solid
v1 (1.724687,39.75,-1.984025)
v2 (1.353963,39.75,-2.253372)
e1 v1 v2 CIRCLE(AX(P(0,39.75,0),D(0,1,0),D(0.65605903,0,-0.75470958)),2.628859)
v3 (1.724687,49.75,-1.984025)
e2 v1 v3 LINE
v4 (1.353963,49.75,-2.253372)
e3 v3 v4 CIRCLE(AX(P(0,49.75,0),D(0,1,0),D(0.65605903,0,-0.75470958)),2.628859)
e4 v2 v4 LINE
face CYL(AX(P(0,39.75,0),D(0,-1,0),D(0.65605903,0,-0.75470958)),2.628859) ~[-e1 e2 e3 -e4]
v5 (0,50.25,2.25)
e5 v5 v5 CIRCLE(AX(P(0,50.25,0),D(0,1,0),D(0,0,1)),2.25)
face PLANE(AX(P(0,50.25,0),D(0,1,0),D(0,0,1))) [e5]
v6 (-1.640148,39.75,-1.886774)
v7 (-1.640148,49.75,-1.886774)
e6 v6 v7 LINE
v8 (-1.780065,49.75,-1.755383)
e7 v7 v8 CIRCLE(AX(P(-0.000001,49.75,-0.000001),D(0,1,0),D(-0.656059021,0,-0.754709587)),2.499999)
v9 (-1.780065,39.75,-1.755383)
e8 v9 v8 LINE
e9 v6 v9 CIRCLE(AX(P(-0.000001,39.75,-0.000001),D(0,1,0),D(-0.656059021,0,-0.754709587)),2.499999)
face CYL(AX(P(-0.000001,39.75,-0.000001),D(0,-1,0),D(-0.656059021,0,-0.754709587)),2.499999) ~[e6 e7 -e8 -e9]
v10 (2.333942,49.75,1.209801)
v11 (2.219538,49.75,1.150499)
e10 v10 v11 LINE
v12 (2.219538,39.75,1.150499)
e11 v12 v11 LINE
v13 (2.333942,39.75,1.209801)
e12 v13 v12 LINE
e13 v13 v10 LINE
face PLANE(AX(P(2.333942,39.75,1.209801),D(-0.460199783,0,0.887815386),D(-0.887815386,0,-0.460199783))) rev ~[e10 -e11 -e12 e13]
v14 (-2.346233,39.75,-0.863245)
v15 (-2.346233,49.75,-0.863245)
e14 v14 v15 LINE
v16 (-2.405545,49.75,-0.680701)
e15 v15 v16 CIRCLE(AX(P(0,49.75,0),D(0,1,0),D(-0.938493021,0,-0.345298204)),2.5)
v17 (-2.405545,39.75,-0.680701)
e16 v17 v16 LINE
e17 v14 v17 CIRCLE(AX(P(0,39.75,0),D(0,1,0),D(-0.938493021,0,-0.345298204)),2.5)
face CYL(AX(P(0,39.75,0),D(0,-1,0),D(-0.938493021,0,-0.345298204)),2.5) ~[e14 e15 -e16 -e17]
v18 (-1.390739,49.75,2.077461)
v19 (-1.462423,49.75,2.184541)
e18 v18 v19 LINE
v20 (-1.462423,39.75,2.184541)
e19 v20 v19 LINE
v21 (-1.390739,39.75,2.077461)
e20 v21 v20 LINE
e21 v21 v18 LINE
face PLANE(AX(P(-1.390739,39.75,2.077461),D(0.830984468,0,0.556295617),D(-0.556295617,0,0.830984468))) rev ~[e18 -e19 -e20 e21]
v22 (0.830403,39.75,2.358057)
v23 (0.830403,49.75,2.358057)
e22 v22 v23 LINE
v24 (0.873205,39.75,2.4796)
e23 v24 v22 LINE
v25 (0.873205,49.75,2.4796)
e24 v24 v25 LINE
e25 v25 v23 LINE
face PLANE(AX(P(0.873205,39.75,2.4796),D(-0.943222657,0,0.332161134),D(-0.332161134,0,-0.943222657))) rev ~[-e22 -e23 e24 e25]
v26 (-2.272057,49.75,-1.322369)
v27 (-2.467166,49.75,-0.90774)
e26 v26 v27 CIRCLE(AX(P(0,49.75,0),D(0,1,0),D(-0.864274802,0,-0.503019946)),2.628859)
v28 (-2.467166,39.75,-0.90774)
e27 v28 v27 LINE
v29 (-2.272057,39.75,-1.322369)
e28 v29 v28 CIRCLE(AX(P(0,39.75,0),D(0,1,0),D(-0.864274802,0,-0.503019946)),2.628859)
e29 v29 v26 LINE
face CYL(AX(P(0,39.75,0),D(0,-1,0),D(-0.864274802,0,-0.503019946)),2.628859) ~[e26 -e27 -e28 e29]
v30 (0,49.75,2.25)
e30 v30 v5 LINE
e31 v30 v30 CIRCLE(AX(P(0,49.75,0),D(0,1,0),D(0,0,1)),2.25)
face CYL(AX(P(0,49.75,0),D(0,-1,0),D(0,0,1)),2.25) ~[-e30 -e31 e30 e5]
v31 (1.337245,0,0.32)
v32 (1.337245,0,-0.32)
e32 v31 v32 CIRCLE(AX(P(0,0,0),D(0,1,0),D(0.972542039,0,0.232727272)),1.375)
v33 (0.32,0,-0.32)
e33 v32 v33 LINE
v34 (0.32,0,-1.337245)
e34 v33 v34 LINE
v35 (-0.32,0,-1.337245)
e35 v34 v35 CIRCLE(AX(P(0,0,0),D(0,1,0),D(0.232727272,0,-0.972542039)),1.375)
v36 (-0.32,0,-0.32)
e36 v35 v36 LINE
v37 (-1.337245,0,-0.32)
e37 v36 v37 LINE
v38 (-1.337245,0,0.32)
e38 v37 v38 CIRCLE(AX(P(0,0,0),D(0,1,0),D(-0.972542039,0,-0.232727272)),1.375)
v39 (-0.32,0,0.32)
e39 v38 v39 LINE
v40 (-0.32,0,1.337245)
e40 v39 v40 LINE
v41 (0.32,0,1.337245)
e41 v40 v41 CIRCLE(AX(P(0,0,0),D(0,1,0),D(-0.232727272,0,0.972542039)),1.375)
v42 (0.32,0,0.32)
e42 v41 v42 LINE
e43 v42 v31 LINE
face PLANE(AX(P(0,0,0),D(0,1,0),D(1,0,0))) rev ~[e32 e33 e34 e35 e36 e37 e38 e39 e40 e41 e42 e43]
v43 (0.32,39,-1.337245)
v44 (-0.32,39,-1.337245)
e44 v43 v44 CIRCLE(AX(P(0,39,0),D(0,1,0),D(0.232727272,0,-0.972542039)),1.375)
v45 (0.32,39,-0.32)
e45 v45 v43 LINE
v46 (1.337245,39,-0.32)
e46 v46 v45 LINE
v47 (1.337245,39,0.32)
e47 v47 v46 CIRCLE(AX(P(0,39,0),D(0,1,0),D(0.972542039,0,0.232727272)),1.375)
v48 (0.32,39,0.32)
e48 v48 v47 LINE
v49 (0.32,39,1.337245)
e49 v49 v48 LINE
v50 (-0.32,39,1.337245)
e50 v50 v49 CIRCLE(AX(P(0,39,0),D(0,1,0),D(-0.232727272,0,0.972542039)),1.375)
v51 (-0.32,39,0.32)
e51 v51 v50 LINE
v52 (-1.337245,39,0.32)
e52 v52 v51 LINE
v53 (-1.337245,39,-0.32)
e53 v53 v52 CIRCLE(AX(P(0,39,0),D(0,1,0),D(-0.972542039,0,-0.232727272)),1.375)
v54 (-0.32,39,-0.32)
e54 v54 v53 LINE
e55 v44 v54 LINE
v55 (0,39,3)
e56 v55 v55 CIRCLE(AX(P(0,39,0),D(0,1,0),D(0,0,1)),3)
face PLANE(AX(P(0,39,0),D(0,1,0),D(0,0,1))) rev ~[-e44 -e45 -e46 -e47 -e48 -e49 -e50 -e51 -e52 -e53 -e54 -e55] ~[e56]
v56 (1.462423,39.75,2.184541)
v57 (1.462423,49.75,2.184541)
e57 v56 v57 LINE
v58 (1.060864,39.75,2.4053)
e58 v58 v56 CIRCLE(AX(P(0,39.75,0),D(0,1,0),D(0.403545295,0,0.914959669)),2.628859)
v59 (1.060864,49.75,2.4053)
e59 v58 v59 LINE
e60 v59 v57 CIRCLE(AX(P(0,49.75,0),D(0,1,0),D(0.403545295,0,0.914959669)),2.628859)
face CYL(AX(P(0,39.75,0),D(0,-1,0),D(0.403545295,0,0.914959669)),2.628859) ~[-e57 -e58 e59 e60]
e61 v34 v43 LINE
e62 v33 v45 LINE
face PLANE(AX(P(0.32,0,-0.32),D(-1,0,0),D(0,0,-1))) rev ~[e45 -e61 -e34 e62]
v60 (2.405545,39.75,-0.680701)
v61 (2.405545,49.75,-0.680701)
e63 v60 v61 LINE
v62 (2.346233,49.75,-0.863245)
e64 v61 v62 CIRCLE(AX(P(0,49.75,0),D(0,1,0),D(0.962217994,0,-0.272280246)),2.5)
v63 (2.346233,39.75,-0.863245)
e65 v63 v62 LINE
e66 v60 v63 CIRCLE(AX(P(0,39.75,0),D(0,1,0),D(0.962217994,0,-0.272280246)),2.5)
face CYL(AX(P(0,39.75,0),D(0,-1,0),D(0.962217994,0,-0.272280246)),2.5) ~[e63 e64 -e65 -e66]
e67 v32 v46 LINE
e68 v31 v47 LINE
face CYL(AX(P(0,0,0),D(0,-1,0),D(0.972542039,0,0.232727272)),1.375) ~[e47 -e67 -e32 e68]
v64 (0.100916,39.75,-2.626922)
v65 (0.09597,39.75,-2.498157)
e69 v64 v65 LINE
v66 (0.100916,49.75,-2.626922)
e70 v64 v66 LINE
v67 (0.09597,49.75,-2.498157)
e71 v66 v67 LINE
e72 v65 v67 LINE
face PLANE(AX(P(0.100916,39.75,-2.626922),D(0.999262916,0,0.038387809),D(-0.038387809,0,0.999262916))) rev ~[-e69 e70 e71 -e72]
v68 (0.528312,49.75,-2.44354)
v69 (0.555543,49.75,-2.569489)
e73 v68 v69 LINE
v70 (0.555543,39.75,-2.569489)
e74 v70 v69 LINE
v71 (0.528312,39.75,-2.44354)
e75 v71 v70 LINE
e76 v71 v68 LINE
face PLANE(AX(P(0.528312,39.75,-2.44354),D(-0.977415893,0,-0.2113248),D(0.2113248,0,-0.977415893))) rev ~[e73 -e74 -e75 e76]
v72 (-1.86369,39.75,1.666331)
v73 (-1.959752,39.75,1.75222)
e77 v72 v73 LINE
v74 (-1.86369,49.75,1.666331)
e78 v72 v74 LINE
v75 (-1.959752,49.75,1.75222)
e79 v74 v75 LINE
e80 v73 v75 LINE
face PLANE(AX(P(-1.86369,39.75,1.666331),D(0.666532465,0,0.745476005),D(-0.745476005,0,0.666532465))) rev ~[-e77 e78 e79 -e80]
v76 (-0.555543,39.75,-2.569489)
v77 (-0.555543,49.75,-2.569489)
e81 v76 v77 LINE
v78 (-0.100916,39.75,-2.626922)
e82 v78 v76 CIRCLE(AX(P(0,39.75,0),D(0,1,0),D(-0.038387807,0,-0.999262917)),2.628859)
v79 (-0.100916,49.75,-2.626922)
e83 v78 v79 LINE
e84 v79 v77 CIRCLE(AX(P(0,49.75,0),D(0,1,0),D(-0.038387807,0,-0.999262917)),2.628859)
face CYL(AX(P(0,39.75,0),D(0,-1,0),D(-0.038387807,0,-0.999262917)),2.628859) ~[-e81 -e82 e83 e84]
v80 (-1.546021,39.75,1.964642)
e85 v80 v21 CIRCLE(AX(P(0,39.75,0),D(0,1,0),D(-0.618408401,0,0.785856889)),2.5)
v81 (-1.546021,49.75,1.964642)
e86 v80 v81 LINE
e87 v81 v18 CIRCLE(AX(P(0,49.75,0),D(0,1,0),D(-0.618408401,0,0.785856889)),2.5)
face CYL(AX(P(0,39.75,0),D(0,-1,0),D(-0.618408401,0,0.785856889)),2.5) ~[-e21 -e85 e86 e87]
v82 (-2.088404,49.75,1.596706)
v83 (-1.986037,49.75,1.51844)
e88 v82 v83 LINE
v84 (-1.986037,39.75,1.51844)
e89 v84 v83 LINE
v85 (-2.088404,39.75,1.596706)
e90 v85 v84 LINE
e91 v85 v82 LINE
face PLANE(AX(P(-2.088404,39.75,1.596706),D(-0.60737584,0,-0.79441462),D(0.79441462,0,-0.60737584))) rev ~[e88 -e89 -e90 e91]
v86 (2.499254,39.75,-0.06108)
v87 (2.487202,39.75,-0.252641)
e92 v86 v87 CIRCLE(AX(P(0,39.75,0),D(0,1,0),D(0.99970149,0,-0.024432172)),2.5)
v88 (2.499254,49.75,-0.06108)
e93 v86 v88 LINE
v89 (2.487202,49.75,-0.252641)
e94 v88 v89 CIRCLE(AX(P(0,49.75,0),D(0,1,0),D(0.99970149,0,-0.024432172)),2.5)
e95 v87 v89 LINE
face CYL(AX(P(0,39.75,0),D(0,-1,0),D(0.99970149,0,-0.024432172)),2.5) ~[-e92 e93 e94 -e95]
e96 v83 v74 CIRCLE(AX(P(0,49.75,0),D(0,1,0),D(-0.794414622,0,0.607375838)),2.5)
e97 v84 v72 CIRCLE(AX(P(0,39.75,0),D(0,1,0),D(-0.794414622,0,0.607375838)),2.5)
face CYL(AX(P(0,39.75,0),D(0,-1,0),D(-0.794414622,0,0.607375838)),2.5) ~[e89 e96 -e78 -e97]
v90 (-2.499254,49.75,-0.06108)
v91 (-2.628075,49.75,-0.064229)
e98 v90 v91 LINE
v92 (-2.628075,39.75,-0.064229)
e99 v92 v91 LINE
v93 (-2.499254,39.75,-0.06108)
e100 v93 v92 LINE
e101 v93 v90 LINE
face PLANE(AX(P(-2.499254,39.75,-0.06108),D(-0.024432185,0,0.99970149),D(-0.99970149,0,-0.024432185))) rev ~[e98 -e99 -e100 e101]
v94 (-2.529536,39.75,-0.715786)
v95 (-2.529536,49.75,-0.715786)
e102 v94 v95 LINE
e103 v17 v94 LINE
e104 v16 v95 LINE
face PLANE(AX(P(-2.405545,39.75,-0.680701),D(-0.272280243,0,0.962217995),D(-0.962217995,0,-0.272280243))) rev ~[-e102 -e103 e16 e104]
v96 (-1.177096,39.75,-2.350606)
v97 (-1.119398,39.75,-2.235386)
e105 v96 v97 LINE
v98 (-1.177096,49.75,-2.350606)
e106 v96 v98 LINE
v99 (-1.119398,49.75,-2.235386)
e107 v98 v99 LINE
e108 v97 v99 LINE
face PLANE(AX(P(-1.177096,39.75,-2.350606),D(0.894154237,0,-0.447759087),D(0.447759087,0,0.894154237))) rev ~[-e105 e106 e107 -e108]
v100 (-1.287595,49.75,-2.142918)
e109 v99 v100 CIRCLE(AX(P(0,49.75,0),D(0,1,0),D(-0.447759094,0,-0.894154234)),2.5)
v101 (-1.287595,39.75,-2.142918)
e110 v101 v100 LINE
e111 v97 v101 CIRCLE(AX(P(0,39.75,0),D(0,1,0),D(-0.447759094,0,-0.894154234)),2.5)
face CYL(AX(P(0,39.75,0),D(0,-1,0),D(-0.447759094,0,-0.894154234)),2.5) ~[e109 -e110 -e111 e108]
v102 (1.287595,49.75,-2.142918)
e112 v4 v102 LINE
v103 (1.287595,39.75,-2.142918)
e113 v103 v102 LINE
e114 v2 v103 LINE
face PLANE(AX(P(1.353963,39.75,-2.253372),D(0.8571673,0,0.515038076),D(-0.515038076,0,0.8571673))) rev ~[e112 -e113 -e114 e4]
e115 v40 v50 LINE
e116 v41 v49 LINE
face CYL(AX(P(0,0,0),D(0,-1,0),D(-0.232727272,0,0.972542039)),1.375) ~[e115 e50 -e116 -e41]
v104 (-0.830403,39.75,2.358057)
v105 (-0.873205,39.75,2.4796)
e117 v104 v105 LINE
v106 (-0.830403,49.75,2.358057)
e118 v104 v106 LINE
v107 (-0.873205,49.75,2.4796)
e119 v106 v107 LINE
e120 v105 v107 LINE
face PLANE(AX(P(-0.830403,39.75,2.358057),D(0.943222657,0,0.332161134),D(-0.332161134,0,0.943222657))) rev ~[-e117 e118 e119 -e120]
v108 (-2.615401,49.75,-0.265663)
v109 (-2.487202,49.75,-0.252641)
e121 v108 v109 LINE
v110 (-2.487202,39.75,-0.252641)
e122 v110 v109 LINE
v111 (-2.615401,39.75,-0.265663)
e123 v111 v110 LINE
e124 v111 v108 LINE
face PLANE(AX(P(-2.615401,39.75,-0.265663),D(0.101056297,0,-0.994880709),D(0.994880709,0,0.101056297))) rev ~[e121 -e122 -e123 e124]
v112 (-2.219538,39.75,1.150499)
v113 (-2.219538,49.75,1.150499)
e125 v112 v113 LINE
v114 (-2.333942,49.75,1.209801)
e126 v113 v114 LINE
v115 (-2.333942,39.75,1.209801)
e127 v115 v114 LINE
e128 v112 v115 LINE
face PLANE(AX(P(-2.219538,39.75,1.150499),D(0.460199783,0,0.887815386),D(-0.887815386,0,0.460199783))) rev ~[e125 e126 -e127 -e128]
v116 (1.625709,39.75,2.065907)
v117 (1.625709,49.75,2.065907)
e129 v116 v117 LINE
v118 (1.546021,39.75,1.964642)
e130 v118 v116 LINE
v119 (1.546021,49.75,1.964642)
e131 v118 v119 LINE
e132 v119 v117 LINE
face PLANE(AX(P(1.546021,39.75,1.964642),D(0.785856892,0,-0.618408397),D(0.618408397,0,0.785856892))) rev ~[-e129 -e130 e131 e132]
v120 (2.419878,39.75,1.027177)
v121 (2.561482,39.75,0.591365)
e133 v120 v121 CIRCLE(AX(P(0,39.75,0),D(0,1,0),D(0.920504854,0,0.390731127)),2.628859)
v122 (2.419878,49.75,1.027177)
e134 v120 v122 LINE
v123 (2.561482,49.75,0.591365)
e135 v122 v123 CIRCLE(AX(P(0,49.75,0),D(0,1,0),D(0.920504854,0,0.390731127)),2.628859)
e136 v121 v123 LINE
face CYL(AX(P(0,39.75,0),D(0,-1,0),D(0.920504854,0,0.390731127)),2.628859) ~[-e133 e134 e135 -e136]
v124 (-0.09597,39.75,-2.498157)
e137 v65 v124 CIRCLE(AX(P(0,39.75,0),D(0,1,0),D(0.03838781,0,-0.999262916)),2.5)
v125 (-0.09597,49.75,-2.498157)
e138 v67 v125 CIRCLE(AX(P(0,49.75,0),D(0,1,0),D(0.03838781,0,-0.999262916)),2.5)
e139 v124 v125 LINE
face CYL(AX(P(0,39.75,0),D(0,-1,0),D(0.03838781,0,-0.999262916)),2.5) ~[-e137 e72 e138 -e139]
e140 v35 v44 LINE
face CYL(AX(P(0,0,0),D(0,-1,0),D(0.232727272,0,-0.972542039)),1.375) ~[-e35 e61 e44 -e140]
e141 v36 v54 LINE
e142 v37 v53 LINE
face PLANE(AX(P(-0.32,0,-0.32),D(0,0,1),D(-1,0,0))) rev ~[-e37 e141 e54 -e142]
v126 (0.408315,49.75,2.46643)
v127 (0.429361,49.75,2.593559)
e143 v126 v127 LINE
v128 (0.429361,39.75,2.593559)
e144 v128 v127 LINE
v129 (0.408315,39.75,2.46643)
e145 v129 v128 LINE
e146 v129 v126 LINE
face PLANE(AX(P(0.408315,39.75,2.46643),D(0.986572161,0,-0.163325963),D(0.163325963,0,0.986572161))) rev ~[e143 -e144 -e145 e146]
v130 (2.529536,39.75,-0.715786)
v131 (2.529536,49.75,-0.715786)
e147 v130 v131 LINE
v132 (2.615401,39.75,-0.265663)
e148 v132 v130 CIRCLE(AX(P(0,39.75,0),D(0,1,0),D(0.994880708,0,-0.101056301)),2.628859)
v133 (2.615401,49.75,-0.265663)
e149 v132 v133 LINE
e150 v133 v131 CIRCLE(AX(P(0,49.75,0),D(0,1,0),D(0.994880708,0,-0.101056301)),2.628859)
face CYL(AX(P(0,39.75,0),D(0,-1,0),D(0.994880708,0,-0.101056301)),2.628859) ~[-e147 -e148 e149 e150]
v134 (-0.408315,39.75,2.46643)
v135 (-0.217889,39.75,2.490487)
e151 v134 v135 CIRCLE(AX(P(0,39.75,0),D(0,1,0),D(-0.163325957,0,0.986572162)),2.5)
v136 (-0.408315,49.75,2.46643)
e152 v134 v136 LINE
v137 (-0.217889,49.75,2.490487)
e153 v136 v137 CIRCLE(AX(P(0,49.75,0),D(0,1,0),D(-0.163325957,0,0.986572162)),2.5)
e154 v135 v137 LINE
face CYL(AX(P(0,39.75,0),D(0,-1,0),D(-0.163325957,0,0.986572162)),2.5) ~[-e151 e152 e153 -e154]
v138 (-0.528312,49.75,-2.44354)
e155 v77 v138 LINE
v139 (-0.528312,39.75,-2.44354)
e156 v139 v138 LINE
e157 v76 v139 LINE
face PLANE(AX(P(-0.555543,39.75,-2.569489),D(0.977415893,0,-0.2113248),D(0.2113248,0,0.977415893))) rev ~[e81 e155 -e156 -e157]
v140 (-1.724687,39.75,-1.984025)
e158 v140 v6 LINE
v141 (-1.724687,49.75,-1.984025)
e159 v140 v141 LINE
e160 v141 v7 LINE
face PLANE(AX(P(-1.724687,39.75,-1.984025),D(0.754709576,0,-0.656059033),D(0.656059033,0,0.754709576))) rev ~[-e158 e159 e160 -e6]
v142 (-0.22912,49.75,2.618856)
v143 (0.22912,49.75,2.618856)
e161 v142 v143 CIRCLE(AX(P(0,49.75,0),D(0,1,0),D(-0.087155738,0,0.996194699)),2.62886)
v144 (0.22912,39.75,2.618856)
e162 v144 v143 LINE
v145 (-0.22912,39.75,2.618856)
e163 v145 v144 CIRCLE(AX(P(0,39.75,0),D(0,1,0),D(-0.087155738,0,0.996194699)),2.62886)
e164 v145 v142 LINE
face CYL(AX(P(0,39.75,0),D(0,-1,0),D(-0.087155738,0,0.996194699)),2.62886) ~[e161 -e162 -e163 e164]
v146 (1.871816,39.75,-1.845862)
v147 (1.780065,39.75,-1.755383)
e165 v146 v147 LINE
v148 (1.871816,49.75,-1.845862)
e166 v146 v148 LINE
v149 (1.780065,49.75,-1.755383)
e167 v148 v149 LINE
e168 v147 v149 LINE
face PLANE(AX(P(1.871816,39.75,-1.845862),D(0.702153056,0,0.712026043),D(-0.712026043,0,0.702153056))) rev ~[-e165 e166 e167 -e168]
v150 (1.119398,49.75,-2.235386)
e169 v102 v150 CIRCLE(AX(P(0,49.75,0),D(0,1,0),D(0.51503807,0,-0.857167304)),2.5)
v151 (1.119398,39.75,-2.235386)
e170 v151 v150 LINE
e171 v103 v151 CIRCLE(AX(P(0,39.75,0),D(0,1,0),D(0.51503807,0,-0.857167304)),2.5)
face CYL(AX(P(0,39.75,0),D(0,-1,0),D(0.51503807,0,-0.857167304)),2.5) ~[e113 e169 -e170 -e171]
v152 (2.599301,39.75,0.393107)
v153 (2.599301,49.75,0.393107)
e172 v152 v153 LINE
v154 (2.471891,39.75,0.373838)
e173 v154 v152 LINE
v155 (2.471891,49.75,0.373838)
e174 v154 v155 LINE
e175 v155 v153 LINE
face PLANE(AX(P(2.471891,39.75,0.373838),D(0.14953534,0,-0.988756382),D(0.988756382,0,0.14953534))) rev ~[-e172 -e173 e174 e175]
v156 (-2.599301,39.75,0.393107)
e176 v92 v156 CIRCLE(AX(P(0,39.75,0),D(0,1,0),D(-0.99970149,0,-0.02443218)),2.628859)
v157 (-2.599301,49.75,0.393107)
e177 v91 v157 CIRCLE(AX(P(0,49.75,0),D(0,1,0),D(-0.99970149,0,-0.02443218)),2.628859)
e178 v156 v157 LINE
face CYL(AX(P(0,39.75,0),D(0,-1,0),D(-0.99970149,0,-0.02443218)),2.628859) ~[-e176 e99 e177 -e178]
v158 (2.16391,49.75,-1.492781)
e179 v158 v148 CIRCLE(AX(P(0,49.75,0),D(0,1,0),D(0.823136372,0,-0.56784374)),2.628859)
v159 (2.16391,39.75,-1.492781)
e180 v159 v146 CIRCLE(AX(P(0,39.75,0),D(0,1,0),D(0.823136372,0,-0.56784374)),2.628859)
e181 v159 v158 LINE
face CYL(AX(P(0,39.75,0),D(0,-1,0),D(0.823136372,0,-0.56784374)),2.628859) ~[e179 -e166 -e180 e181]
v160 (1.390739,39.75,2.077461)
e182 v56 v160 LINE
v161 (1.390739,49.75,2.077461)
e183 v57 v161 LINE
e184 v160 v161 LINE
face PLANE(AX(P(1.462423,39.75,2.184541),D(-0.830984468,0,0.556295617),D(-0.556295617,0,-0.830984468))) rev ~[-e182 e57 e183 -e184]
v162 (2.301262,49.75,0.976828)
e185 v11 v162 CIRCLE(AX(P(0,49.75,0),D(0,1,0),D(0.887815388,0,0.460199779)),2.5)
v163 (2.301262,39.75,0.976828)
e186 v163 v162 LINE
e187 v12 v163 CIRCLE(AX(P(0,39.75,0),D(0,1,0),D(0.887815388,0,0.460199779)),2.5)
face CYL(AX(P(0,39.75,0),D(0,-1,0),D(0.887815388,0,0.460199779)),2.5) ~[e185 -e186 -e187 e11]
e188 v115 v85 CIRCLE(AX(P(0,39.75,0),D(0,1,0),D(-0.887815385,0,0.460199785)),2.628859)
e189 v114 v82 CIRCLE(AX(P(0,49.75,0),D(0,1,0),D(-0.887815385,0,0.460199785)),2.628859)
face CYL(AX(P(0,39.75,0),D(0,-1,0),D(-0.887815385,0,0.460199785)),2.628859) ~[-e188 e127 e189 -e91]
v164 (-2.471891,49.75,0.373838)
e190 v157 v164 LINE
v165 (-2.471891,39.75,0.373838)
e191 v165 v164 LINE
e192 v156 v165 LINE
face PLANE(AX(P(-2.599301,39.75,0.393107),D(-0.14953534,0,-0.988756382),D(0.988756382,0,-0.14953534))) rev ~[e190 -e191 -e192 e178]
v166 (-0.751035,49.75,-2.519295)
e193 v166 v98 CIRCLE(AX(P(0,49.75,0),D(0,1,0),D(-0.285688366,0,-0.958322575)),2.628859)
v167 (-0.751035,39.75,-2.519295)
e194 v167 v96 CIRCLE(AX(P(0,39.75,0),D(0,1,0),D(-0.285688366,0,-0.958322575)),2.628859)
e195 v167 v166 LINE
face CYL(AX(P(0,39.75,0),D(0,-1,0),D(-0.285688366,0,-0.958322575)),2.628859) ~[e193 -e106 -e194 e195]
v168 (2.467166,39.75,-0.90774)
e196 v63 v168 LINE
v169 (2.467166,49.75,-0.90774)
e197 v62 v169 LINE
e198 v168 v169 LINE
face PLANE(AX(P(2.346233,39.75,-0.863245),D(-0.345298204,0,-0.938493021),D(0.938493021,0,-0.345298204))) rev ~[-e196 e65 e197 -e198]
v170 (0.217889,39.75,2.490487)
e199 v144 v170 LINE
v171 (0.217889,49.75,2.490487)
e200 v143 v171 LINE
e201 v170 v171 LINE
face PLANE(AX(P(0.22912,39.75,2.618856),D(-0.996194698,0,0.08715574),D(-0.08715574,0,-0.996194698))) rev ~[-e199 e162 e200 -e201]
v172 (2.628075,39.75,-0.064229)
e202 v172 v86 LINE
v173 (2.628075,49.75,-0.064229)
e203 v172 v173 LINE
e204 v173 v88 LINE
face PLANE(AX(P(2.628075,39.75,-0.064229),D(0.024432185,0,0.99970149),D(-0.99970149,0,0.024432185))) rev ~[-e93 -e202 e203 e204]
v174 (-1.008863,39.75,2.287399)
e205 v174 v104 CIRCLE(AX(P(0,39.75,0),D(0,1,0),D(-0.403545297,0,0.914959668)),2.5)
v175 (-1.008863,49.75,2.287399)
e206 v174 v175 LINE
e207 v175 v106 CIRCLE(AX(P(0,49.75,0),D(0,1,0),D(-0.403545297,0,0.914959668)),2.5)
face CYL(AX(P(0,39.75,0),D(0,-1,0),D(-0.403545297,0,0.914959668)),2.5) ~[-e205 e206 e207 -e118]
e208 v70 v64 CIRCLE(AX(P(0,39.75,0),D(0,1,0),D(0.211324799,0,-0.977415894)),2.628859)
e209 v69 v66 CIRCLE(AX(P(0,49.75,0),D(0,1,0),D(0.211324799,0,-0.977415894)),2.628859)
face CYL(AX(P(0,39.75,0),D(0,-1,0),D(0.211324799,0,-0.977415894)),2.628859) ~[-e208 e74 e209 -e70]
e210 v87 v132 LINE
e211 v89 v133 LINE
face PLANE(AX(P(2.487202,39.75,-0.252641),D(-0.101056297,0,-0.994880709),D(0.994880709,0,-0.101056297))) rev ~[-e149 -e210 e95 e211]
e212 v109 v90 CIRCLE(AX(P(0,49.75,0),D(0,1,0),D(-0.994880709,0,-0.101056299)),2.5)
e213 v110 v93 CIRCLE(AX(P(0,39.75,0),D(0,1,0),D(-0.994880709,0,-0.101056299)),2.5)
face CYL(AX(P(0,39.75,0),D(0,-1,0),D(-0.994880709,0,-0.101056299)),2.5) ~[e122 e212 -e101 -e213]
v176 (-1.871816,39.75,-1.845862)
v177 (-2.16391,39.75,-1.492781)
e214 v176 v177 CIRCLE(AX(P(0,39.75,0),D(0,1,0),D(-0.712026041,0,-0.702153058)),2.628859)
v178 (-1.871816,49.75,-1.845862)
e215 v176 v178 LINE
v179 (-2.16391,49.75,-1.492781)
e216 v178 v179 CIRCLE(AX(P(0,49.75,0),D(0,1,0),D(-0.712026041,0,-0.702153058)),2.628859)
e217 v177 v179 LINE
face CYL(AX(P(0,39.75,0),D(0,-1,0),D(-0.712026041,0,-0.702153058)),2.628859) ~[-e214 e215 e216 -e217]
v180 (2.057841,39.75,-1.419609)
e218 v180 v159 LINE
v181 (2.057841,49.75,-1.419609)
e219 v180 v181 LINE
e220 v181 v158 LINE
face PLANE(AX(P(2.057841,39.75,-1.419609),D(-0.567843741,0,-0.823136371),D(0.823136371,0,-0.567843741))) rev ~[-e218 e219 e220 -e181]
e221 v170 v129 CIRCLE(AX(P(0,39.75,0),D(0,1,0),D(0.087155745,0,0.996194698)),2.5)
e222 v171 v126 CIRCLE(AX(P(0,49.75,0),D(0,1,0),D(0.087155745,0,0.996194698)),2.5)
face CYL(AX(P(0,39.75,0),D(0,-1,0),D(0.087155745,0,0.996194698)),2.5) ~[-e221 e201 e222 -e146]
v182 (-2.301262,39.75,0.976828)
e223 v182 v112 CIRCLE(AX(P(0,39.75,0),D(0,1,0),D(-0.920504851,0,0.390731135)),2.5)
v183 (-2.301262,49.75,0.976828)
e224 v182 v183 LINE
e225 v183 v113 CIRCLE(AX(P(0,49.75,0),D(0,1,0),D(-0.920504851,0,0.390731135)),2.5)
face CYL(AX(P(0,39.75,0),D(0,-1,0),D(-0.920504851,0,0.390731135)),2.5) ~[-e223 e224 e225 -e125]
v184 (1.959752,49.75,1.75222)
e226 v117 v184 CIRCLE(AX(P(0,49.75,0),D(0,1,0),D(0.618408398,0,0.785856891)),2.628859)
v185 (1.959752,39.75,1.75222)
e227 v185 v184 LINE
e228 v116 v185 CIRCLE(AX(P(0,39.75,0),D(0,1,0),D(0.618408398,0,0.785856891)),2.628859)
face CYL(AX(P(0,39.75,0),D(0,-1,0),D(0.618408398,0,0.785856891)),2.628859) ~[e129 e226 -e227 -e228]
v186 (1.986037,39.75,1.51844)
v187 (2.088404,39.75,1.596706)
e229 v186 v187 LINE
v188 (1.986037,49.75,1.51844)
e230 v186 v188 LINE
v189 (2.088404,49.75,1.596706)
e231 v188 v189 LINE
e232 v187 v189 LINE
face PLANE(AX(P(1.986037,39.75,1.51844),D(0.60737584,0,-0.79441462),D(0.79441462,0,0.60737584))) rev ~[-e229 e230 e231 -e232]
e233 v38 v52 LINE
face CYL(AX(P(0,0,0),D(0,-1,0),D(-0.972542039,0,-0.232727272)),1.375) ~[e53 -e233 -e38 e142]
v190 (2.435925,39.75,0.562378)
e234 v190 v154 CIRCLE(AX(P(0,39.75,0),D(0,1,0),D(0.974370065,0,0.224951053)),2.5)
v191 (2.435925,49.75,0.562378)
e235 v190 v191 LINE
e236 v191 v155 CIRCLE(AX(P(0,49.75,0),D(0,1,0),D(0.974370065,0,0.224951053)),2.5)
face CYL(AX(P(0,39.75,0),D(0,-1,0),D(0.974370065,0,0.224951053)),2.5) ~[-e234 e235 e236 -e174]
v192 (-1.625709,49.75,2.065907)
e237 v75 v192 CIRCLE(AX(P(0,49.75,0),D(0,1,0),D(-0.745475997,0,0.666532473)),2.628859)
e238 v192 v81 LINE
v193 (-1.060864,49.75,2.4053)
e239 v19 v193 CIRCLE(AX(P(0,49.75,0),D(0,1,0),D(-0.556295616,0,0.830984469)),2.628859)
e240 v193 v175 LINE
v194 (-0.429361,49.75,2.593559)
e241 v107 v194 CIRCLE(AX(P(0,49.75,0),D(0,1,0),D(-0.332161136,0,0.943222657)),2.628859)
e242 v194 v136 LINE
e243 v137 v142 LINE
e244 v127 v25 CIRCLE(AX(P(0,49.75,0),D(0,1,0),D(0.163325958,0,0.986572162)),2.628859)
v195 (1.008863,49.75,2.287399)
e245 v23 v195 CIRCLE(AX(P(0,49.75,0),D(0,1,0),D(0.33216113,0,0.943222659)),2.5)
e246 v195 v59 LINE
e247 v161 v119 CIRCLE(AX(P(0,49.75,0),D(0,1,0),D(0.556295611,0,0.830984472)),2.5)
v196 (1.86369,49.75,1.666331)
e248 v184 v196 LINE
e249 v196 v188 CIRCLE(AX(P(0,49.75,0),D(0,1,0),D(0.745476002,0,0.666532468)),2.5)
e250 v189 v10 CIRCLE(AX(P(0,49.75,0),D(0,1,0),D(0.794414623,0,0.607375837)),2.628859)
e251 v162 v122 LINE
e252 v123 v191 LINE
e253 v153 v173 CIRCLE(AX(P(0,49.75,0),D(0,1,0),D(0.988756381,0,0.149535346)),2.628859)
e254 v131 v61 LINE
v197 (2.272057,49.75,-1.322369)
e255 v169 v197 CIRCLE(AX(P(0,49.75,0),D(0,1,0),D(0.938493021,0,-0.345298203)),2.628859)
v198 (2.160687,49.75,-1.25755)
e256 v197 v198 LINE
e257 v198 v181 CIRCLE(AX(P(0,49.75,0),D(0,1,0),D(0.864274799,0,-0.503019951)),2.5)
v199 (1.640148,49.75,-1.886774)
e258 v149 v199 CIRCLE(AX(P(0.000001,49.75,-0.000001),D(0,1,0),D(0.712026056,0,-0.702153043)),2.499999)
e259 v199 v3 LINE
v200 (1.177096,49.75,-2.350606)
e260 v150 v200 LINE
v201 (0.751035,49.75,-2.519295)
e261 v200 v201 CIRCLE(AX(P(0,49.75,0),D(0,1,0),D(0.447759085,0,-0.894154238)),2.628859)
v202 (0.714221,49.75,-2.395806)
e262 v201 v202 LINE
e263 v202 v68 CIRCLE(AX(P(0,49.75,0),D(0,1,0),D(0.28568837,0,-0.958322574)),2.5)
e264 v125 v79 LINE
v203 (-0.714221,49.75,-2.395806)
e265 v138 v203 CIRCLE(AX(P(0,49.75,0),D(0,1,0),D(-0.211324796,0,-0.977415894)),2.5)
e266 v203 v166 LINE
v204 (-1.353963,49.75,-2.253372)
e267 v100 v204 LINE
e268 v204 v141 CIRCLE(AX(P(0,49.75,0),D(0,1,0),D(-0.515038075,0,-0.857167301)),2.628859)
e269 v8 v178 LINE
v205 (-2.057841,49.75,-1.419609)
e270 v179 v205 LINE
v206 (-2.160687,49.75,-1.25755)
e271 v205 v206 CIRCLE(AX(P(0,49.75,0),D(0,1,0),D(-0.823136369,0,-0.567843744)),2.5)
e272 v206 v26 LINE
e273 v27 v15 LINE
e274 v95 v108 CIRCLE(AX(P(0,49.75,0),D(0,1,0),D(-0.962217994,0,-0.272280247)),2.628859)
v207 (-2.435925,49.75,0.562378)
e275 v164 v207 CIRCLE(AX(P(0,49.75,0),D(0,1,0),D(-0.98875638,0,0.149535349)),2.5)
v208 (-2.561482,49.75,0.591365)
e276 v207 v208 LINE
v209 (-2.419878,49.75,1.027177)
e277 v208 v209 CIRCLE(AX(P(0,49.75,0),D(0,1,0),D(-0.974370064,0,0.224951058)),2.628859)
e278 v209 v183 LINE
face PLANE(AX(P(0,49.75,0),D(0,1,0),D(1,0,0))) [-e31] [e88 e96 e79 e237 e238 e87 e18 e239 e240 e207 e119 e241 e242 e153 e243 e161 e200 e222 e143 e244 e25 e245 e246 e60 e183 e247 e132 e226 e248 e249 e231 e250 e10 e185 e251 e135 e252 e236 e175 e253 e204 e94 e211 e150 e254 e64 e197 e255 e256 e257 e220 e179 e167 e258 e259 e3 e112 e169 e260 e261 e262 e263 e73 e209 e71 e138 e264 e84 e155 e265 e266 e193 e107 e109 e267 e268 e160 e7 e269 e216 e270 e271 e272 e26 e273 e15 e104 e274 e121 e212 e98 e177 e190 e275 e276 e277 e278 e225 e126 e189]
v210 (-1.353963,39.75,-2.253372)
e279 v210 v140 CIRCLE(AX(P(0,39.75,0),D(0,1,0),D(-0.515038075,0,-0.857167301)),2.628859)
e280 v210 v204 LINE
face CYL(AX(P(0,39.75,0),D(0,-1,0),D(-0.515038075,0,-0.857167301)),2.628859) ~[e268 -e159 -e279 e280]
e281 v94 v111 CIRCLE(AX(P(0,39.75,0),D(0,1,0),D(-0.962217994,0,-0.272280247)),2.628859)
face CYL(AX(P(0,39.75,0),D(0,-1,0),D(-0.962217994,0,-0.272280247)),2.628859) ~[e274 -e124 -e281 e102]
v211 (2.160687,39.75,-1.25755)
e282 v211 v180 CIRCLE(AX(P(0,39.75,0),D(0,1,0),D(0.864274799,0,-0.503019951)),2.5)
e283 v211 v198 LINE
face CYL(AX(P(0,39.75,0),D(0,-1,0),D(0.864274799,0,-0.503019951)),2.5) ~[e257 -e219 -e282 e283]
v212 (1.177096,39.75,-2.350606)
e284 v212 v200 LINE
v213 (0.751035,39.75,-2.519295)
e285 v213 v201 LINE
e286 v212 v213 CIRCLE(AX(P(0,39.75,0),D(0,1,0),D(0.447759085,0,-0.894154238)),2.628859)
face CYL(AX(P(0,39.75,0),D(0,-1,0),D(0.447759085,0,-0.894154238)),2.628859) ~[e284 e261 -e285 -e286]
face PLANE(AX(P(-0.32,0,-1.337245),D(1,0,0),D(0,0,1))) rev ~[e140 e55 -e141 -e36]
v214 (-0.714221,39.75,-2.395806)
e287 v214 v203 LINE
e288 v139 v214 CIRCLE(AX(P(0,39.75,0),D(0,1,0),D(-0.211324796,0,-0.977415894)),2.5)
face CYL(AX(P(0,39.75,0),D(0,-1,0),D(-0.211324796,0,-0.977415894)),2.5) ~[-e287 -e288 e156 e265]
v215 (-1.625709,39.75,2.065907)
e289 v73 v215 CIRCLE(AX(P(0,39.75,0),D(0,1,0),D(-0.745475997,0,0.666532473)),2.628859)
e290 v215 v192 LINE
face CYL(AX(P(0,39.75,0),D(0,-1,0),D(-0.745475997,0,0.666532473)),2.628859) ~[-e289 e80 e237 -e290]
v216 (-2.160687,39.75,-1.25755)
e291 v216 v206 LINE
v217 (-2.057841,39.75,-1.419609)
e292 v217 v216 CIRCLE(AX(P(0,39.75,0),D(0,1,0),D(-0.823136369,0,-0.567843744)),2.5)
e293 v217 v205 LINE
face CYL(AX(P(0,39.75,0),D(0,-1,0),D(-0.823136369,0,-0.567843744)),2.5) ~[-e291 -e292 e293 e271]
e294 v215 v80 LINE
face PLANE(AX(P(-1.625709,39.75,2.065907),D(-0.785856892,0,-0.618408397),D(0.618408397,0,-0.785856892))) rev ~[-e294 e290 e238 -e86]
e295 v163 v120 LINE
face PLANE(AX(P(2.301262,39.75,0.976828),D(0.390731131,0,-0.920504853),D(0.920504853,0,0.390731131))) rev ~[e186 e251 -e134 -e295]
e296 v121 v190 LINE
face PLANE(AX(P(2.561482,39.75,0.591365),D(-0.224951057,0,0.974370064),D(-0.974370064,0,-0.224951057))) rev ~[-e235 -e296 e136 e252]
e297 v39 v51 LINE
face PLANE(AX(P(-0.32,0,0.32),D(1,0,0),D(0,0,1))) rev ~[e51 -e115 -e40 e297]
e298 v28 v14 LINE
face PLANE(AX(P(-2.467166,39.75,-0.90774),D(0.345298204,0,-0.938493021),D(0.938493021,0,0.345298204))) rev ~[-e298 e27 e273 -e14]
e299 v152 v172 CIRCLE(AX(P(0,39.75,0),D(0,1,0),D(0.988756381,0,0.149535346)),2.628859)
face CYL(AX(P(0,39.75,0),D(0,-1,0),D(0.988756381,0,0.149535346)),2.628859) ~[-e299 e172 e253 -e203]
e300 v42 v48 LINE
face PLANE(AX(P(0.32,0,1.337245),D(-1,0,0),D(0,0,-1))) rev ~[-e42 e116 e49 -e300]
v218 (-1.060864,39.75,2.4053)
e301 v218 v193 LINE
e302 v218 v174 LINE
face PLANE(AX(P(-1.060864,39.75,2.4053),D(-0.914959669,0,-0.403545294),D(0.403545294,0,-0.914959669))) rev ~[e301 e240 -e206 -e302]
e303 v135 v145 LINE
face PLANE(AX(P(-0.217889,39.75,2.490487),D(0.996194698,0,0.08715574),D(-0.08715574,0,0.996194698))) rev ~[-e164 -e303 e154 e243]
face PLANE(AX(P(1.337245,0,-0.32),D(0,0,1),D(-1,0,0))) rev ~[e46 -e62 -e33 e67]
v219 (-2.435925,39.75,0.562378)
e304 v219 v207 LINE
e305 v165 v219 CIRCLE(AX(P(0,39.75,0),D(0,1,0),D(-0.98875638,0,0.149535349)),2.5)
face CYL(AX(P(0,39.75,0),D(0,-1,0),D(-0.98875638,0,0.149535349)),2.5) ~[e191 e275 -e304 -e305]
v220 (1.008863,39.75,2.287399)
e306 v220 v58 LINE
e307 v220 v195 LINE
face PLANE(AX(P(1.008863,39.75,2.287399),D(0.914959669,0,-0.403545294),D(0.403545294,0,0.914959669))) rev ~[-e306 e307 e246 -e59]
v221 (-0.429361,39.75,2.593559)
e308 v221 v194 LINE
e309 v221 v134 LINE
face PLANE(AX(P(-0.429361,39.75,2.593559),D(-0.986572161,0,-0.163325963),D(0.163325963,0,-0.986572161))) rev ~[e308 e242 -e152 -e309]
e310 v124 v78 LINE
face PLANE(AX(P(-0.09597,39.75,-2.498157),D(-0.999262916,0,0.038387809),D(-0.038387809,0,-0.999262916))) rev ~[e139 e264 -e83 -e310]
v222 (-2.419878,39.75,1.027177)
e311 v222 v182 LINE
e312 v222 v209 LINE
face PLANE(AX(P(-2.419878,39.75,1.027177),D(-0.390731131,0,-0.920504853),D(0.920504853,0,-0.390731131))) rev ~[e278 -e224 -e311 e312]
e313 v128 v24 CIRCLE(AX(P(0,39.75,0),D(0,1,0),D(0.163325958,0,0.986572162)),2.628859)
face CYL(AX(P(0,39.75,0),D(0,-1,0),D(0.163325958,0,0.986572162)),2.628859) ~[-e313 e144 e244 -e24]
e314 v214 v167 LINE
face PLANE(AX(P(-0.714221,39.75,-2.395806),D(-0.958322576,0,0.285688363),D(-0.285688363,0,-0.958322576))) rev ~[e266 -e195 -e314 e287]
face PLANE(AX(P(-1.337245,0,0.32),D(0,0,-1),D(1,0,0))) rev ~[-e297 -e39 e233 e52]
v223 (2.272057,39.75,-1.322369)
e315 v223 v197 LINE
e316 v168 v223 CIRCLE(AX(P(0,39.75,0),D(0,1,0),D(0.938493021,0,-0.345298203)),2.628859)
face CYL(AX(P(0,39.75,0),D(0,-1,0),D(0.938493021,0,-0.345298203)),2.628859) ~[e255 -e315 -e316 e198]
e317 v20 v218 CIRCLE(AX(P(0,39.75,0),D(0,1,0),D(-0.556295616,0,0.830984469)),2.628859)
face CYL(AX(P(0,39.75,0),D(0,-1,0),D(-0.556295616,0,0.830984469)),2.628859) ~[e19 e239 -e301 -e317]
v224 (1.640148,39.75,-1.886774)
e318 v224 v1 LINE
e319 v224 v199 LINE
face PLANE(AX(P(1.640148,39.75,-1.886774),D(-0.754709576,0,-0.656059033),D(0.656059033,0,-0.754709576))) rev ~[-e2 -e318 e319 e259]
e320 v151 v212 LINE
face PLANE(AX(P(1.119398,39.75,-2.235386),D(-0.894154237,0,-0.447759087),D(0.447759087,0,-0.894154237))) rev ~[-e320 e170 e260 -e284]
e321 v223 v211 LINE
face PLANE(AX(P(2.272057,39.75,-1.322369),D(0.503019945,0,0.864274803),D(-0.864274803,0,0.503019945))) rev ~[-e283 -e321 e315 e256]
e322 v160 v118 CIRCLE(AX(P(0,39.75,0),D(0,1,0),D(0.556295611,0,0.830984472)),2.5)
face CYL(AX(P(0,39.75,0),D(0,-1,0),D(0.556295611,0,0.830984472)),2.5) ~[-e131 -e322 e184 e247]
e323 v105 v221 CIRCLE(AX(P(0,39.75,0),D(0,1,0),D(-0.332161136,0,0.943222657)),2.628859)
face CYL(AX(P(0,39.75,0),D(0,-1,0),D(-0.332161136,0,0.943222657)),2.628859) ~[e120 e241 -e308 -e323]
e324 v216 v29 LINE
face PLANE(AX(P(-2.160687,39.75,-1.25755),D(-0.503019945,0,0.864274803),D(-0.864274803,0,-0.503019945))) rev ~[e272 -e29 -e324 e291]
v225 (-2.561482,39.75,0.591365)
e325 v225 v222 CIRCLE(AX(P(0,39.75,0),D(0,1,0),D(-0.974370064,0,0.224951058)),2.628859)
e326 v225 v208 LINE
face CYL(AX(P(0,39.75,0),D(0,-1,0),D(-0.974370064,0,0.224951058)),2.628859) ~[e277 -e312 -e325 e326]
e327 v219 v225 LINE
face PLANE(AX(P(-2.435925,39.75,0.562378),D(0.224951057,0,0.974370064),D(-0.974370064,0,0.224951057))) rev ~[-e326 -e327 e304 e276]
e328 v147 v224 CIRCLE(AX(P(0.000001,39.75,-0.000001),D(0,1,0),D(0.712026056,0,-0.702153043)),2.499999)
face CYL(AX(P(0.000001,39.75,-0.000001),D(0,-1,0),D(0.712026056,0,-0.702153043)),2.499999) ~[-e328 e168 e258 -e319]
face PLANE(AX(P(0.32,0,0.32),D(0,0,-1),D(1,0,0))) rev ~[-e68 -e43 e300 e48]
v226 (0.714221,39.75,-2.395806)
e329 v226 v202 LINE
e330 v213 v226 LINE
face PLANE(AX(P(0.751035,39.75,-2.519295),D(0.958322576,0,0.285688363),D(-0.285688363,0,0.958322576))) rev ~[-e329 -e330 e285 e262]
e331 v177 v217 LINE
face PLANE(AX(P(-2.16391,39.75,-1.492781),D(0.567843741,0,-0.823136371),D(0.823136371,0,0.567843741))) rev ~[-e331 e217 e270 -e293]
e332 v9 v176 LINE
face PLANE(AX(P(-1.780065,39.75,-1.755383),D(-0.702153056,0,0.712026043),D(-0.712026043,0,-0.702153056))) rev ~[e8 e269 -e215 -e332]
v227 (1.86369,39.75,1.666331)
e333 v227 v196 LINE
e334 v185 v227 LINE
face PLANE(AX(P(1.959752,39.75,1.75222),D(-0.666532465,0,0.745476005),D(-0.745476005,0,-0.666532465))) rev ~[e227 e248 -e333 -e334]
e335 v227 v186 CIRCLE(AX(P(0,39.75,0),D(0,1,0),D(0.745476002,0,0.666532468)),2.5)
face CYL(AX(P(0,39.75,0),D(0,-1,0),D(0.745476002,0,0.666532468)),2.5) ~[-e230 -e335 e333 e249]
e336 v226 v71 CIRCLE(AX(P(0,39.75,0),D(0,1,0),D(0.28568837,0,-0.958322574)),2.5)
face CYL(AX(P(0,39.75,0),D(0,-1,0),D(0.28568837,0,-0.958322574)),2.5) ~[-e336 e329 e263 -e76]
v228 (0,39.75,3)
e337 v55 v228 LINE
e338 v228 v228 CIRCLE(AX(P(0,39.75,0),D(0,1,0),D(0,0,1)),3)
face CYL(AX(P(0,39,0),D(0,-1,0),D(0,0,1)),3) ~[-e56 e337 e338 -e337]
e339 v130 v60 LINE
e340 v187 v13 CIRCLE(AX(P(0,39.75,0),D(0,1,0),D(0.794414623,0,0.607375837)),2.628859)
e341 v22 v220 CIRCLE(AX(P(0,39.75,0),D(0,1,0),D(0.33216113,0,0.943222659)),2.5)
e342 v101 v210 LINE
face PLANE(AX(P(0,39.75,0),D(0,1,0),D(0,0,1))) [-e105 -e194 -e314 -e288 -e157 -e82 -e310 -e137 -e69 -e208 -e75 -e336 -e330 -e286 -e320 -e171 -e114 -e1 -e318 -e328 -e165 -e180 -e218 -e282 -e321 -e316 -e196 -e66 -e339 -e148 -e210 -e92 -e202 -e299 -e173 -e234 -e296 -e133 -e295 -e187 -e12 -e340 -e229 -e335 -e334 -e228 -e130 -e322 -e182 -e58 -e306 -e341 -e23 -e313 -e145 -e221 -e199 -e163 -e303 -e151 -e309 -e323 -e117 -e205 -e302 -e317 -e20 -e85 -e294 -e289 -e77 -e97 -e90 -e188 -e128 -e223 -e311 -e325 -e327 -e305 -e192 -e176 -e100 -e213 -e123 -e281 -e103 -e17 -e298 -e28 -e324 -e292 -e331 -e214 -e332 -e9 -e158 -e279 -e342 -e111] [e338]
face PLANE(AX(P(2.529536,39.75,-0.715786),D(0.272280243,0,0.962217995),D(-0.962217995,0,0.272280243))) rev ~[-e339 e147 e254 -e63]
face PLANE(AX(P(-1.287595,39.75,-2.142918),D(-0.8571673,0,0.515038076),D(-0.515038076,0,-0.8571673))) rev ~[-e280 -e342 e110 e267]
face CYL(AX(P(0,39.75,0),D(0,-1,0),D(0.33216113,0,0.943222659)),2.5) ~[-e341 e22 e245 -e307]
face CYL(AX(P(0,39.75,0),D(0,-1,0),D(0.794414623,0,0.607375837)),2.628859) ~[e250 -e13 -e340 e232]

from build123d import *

# Parameters (mm, degrees)
BOSS_EXTRUDE2_DEPTH = 39
SKETCH5_R           = 3
BOSS_EXTRUDE3_DEPTH = 0.75
BOSS_EXTRUDE5_DEPTH = 10
SKETCH10_R          = 2.25
BOSS_EXTRUDE6_DEPTH = 0.5


with BuildPart() as part:
    # Sketch4 → Boss-Extrude2 (new body)
    with BuildSketch(Plane(origin=(0, 0, 0), x_dir=(1, 0, 0), z_dir=(0, 1, 0))):
        with BuildLine():
            Line((-0.32, 1.337245303), (-0.32, 0.32))
            Line((-0.32, 0.32), (-1.337245303, 0.32))
            ThreePointArc((-1.337245303, 0.32), (-1.375, 0), (-1.337245303, -0.32))
            Line((-1.337245303, -0.32), (-0.32, -0.32))
            Line((-0.32, -0.32), (-0.32, -1.337245303))
            ThreePointArc((-0.32, -1.337245303), (0, -1.375), (0.32, -1.337245303))
            Line((0.32, -1.337245303), (0.32, -0.32))
            Line((0.32, -0.32), (1.337245303, -0.32))
            ThreePointArc((1.337245303, -0.32), (1.375, 0), (1.337245303, 0.32))
            Line((1.337245303, 0.32), (0.32, 0.32))
            Line((0.32, 0.32), (0.32, 1.337245303))
            ThreePointArc((0.32, 1.337245303), (0, 1.375), (-0.32, 1.337245303))
        make_face()
    extrude(amount=BOSS_EXTRUDE2_DEPTH)

    # Sketch5 → Boss-Extrude3 (add)
    with BuildSketch(Plane(origin=(0, 39, 0), x_dir=(1, 0, 0), z_dir=(0, 1, 0))):
        with Locations(Location((0, 0, 0), (0, 0, 270))):
            Circle(SKETCH5_R)
    extrude(amount=BOSS_EXTRUDE3_DEPTH)

    # Sketch9 → Boss-Extrude5 (add)
    with BuildSketch(Plane(origin=(0, 39.75, 0), x_dir=(1, 0, 0), z_dir=(0, 1, 0))):
        with BuildLine():
            Line((-0.83040283, -2.358056645), (-0.873204905, -2.479599724))
            ThreePointArc((-0.873204905, -2.479599724), (-0.653770741, -2.546268921), (-0.429360987, -2.593559473))
            Line((-0.429360987, -2.593559473), (-0.408314906, -2.466430404))
            ThreePointArc((-0.408314906, -2.466430404), (-0.313333084, -2.480286753), (-0.217889357, -2.490486745))
            Line((-0.217889357, -2.490486745), (-0.229120191, -2.618855769))
            ThreePointArc((-0.229120191, -2.618855769), (0, -2.628859372), (0.229120191, -2.618855769))
            Line((0.229120191, -2.618855769), (0.217889357, -2.490486745))
            ThreePointArc((0.217889357, -2.490486745), (0.313333084, -2.480286753), (0.408314906, -2.466430404))
            Line((0.408314906, -2.466430404), (0.429360987, -2.593559473))
            ThreePointArc((0.429360987, -2.593559473), (0.653770741, -2.546268921), (0.873204905, -2.479599724))
            Line((0.873204905, -2.479599724), (0.83040283, -2.358056645))
            ThreePointArc((0.83040283, -2.358056645), (0.920311382, -2.324441215), (1.008863241, -2.28739917))
            Line((1.008863241, -2.28739917), (1.060863834, -2.405300298))
            ThreePointArc((1.060863834, -2.405300298), (1.266462661, -2.303687029), (1.462422943, -2.18454131))
            Line((1.462422943, -2.18454131), (1.390739039, -2.077461173))
            ThreePointArc((1.390739039, -2.077461173), (1.469463131, -2.022542486), (1.546020988, -1.964642233))
            Line((1.546020988, -1.964642233), (1.625708706, -2.065907259))
            ThreePointArc((1.625708706, -2.065907259), (1.799578075, -1.916356008), (1.959751569, -1.752220131))
            Line((1.959751569, -1.752220131), (1.863689999, -1.666331176))
            ThreePointArc((1.863689999, -1.666331176), (1.926283107, -1.593559974), (1.986036551, -1.518439599))
            Line((1.986036551, -1.518439599), (2.088404321, -1.596705669))
            ThreePointArc((2.088404321, -1.596705669), (2.21961938, -1.408613292), (2.333941796, -1.209800517))
            Line((2.333941796, -1.209800517), (2.219538463, -1.150499462))
            ThreePointArc((2.219538463, -1.150499462), (2.262067631, -1.064448229), (2.301262134, -0.976827821))
            Line((2.301262134, -0.976827821), (2.419877811, -1.027177189))
            ThreePointArc((2.419877811, -1.027177189), (2.500193836, -0.812362222), (2.561481877, -0.591364688))
            Line((2.561481877, -0.591364688), (2.435925162, -0.562377636))
            ThreePointArc((2.435925162, -0.562377636), (2.455718127, -0.468453286), (2.471890953, -0.373838359))
            Line((2.471890953, -0.373838359), (2.599301479, -0.393107389))
            ThreePointArc((2.599301479, -0.393107389), (2.623671919, -0.165067446), (2.628074631, 0.064228761))
            Line((2.628074631, 0.064228761), (2.499253724, 0.061080445))
            ThreePointArc((2.499253724, 0.061080445), (2.495066821, 0.156976299), (2.487201772, 0.252640743))
            Line((2.487201772, 0.252640743), (2.615401476, 0.265662794))
            ThreePointArc((2.615401476, 0.265662794), (2.582295045, 0.492599125), (2.52953579, 0.715786479))
            Line((2.52953579, 0.715786479), (2.405544984, 0.680700618))
            ThreePointArc((2.405544984, 0.680700618), (2.377641291, 0.772542486), (2.346232557, 0.863245497))
            Line((2.346232557, 0.863245497), (2.467166179, 0.907740407))
            ThreePointArc((2.467166179, 0.907740407), (2.378663077, 1.119313881), (2.272056913, 1.322368701))
            Line((2.272056913, 1.322368701), (2.160687005, 1.257549867))
            ThreePointArc((2.160687005, 1.257549867), (2.110819814, 1.339566987), (2.057840921, 1.419609363))
            Line((2.057840921, 1.419609363), (2.163909757, 1.492781351))
            ThreePointArc((2.163909757, 1.492781351), (2.02557096, 1.67569803), (1.871816344, 1.845861634))
            Line((1.871816344, 1.845861634), (1.780065115, 1.755382632))
            ThreePointArc((1.780065115, 1.755382632), (1.711367765, 1.822421569), (1.640147572, 1.886773951))
            Line((1.640147572, 1.886773951), (1.724686927, 1.984025353))
            ThreePointArc((1.724686927, 1.984025353), (1.545204769, 2.126791908), (1.35396267, 2.253372292))
            Line((1.35396267, 2.253372292), (1.287595187, 2.142918252))
            ThreePointArc((1.287595187, 2.142918252), (1.204384185, 2.1907667), (1.11939772, 2.235385592))
            Line((1.11939772, 2.235385592), (1.177095675, 2.350605746))
            ThreePointArc((1.177095675, 2.350605746), (0.96774768, 2.444251629), (0.751034542, 2.519295281))
            Line((0.751034542, 2.519295281), (0.714220919, 2.395806436))
            ThreePointArc((0.714220919, 2.395806436), (0.621724718, 2.421457903), (0.528311991, 2.443539736))
            Line((0.528311991, 2.443539736), (0.555543172, 2.569488934))
            ThreePointArc((0.555543172, 2.569488934), (0.329483446, 2.608130031), (0.100916152, 2.626921683))
            Line((0.100916152, 2.626921683), (0.095969523, 2.498157291))
            ThreePointArc((0.095969523, 2.498157291), (0, 2.5), (-0.095969523, 2.498157291))
            Line((-0.095969523, 2.498157291), (-0.100916152, 2.626921683))
            ThreePointArc((-0.100916152, 2.626921683), (-0.329483446, 2.608130031), (-0.555543172, 2.569488934))
            Line((-0.555543172, 2.569488934), (-0.528311991, 2.443539736))
            ThreePointArc((-0.528311991, 2.443539736), (-0.621724718, 2.421457903), (-0.714220919, 2.395806436))
            Line((-0.714220919, 2.395806436), (-0.751034542, 2.519295281))
            ThreePointArc((-0.751034542, 2.519295281), (-0.96774768, 2.444251629), (-1.177095675, 2.350605746))
            Line((-1.177095675, 2.350605746), (-1.11939772, 2.235385592))
            ThreePointArc((-1.11939772, 2.235385592), (-1.204384185, 2.1907667), (-1.287595187, 2.142918252))
            Line((-1.287595187, 2.142918252), (-1.35396267, 2.253372292))
            ThreePointArc((-1.35396267, 2.253372292), (-1.545204769, 2.126791908), (-1.724686927, 1.984025353))
            Line((-1.724686927, 1.984025353), (-1.640147572, 1.886773951))
            ThreePointArc((-1.640147572, 1.886773951), (-1.711367765, 1.822421569), (-1.780065115, 1.755382632))
            Line((-1.780065115, 1.755382632), (-1.871816344, 1.845861634))
            ThreePointArc((-1.871816344, 1.845861634), (-2.02557096, 1.67569803), (-2.163909757, 1.492781351))
            Line((-2.163909757, 1.492781351), (-2.057840921, 1.419609363))
            ThreePointArc((-2.057840921, 1.419609363), (-2.110819814, 1.339566987), (-2.160687005, 1.257549867))
            Line((-2.160687005, 1.257549867), (-2.272056913, 1.322368701))
            ThreePointArc((-2.272056913, 1.322368701), (-2.378663077, 1.119313881), (-2.467166179, 0.907740407))
            Line((-2.467166179, 0.907740407), (-2.346232557, 0.863245497))
            ThreePointArc((-2.346232557, 0.863245497), (-2.377641291, 0.772542486), (-2.405544984, 0.680700618))
            Line((-2.405544984, 0.680700618), (-2.52953579, 0.715786479))
            ThreePointArc((-2.52953579, 0.715786479), (-2.582295045, 0.492599125), (-2.615401476, 0.265662794))
            Line((-2.615401476, 0.265662794), (-2.487201772, 0.252640743))
            ThreePointArc((-2.487201772, 0.252640743), (-2.495066821, 0.156976299), (-2.499253724, 0.061080445))
            Line((-2.499253724, 0.061080445), (-2.628074631, 0.064228761))
            ThreePointArc((-2.628074631, 0.064228761), (-2.623671919, -0.165067446), (-2.599301479, -0.393107389))
            Line((-2.599301479, -0.393107389), (-2.471890953, -0.373838359))
            ThreePointArc((-2.471890953, -0.373838359), (-2.455718127, -0.468453286), (-2.435925162, -0.562377636))
            Line((-2.435925162, -0.562377636), (-2.561481877, -0.591364688))
            ThreePointArc((-2.561481877, -0.591364688), (-2.500193836, -0.812362222), (-2.419877811, -1.027177189))
            Line((-2.419877811, -1.027177189), (-2.301262134, -0.976827821))
            ThreePointArc((-2.301262134, -0.976827821), (-2.262067631, -1.064448229), (-2.219538463, -1.150499462))
            Line((-2.219538463, -1.150499462), (-2.333941796, -1.209800517))
            ThreePointArc((-2.333941796, -1.209800517), (-2.21961938, -1.408613292), (-2.088404321, -1.596705669))
            Line((-2.088404321, -1.596705669), (-1.986036551, -1.518439599))
            ThreePointArc((-1.986036551, -1.518439599), (-1.926283107, -1.593559974), (-1.863689999, -1.666331176))
            Line((-1.863689999, -1.666331176), (-1.959751569, -1.752220131))
            ThreePointArc((-1.959751569, -1.752220131), (-1.799578075, -1.916356008), (-1.625708706, -2.065907259))
            Line((-1.625708706, -2.065907259), (-1.546020988, -1.964642233))
            ThreePointArc((-1.546020988, -1.964642233), (-1.469463131, -2.022542486), (-1.390739039, -2.077461173))
            Line((-1.390739039, -2.077461173), (-1.462422943, -2.18454131))
            ThreePointArc((-1.462422943, -2.18454131), (-1.266462661, -2.303687029), (-1.060863834, -2.405300298))
            Line((-1.060863834, -2.405300298), (-1.008863241, -2.28739917))
            ThreePointArc((-1.008863241, -2.28739917), (-0.920311382, -2.324441215), (-0.83040283, -2.358056645))
        make_face()
    extrude(amount=BOSS_EXTRUDE5_DEPTH)

    # Sketch10 → Boss-Extrude6 (add)
    with BuildSketch(Plane(origin=(0, 49.75, 0), x_dir=(1, 0, 0), z_dir=(0, 1, 0))):
        with Locations(Location((0, 0, 0), (0, 0, 270))):
            Circle(SKETCH10_R)
    extrude(amount=BOSS_EXTRUDE6_DEPTH)


solid = part.part
